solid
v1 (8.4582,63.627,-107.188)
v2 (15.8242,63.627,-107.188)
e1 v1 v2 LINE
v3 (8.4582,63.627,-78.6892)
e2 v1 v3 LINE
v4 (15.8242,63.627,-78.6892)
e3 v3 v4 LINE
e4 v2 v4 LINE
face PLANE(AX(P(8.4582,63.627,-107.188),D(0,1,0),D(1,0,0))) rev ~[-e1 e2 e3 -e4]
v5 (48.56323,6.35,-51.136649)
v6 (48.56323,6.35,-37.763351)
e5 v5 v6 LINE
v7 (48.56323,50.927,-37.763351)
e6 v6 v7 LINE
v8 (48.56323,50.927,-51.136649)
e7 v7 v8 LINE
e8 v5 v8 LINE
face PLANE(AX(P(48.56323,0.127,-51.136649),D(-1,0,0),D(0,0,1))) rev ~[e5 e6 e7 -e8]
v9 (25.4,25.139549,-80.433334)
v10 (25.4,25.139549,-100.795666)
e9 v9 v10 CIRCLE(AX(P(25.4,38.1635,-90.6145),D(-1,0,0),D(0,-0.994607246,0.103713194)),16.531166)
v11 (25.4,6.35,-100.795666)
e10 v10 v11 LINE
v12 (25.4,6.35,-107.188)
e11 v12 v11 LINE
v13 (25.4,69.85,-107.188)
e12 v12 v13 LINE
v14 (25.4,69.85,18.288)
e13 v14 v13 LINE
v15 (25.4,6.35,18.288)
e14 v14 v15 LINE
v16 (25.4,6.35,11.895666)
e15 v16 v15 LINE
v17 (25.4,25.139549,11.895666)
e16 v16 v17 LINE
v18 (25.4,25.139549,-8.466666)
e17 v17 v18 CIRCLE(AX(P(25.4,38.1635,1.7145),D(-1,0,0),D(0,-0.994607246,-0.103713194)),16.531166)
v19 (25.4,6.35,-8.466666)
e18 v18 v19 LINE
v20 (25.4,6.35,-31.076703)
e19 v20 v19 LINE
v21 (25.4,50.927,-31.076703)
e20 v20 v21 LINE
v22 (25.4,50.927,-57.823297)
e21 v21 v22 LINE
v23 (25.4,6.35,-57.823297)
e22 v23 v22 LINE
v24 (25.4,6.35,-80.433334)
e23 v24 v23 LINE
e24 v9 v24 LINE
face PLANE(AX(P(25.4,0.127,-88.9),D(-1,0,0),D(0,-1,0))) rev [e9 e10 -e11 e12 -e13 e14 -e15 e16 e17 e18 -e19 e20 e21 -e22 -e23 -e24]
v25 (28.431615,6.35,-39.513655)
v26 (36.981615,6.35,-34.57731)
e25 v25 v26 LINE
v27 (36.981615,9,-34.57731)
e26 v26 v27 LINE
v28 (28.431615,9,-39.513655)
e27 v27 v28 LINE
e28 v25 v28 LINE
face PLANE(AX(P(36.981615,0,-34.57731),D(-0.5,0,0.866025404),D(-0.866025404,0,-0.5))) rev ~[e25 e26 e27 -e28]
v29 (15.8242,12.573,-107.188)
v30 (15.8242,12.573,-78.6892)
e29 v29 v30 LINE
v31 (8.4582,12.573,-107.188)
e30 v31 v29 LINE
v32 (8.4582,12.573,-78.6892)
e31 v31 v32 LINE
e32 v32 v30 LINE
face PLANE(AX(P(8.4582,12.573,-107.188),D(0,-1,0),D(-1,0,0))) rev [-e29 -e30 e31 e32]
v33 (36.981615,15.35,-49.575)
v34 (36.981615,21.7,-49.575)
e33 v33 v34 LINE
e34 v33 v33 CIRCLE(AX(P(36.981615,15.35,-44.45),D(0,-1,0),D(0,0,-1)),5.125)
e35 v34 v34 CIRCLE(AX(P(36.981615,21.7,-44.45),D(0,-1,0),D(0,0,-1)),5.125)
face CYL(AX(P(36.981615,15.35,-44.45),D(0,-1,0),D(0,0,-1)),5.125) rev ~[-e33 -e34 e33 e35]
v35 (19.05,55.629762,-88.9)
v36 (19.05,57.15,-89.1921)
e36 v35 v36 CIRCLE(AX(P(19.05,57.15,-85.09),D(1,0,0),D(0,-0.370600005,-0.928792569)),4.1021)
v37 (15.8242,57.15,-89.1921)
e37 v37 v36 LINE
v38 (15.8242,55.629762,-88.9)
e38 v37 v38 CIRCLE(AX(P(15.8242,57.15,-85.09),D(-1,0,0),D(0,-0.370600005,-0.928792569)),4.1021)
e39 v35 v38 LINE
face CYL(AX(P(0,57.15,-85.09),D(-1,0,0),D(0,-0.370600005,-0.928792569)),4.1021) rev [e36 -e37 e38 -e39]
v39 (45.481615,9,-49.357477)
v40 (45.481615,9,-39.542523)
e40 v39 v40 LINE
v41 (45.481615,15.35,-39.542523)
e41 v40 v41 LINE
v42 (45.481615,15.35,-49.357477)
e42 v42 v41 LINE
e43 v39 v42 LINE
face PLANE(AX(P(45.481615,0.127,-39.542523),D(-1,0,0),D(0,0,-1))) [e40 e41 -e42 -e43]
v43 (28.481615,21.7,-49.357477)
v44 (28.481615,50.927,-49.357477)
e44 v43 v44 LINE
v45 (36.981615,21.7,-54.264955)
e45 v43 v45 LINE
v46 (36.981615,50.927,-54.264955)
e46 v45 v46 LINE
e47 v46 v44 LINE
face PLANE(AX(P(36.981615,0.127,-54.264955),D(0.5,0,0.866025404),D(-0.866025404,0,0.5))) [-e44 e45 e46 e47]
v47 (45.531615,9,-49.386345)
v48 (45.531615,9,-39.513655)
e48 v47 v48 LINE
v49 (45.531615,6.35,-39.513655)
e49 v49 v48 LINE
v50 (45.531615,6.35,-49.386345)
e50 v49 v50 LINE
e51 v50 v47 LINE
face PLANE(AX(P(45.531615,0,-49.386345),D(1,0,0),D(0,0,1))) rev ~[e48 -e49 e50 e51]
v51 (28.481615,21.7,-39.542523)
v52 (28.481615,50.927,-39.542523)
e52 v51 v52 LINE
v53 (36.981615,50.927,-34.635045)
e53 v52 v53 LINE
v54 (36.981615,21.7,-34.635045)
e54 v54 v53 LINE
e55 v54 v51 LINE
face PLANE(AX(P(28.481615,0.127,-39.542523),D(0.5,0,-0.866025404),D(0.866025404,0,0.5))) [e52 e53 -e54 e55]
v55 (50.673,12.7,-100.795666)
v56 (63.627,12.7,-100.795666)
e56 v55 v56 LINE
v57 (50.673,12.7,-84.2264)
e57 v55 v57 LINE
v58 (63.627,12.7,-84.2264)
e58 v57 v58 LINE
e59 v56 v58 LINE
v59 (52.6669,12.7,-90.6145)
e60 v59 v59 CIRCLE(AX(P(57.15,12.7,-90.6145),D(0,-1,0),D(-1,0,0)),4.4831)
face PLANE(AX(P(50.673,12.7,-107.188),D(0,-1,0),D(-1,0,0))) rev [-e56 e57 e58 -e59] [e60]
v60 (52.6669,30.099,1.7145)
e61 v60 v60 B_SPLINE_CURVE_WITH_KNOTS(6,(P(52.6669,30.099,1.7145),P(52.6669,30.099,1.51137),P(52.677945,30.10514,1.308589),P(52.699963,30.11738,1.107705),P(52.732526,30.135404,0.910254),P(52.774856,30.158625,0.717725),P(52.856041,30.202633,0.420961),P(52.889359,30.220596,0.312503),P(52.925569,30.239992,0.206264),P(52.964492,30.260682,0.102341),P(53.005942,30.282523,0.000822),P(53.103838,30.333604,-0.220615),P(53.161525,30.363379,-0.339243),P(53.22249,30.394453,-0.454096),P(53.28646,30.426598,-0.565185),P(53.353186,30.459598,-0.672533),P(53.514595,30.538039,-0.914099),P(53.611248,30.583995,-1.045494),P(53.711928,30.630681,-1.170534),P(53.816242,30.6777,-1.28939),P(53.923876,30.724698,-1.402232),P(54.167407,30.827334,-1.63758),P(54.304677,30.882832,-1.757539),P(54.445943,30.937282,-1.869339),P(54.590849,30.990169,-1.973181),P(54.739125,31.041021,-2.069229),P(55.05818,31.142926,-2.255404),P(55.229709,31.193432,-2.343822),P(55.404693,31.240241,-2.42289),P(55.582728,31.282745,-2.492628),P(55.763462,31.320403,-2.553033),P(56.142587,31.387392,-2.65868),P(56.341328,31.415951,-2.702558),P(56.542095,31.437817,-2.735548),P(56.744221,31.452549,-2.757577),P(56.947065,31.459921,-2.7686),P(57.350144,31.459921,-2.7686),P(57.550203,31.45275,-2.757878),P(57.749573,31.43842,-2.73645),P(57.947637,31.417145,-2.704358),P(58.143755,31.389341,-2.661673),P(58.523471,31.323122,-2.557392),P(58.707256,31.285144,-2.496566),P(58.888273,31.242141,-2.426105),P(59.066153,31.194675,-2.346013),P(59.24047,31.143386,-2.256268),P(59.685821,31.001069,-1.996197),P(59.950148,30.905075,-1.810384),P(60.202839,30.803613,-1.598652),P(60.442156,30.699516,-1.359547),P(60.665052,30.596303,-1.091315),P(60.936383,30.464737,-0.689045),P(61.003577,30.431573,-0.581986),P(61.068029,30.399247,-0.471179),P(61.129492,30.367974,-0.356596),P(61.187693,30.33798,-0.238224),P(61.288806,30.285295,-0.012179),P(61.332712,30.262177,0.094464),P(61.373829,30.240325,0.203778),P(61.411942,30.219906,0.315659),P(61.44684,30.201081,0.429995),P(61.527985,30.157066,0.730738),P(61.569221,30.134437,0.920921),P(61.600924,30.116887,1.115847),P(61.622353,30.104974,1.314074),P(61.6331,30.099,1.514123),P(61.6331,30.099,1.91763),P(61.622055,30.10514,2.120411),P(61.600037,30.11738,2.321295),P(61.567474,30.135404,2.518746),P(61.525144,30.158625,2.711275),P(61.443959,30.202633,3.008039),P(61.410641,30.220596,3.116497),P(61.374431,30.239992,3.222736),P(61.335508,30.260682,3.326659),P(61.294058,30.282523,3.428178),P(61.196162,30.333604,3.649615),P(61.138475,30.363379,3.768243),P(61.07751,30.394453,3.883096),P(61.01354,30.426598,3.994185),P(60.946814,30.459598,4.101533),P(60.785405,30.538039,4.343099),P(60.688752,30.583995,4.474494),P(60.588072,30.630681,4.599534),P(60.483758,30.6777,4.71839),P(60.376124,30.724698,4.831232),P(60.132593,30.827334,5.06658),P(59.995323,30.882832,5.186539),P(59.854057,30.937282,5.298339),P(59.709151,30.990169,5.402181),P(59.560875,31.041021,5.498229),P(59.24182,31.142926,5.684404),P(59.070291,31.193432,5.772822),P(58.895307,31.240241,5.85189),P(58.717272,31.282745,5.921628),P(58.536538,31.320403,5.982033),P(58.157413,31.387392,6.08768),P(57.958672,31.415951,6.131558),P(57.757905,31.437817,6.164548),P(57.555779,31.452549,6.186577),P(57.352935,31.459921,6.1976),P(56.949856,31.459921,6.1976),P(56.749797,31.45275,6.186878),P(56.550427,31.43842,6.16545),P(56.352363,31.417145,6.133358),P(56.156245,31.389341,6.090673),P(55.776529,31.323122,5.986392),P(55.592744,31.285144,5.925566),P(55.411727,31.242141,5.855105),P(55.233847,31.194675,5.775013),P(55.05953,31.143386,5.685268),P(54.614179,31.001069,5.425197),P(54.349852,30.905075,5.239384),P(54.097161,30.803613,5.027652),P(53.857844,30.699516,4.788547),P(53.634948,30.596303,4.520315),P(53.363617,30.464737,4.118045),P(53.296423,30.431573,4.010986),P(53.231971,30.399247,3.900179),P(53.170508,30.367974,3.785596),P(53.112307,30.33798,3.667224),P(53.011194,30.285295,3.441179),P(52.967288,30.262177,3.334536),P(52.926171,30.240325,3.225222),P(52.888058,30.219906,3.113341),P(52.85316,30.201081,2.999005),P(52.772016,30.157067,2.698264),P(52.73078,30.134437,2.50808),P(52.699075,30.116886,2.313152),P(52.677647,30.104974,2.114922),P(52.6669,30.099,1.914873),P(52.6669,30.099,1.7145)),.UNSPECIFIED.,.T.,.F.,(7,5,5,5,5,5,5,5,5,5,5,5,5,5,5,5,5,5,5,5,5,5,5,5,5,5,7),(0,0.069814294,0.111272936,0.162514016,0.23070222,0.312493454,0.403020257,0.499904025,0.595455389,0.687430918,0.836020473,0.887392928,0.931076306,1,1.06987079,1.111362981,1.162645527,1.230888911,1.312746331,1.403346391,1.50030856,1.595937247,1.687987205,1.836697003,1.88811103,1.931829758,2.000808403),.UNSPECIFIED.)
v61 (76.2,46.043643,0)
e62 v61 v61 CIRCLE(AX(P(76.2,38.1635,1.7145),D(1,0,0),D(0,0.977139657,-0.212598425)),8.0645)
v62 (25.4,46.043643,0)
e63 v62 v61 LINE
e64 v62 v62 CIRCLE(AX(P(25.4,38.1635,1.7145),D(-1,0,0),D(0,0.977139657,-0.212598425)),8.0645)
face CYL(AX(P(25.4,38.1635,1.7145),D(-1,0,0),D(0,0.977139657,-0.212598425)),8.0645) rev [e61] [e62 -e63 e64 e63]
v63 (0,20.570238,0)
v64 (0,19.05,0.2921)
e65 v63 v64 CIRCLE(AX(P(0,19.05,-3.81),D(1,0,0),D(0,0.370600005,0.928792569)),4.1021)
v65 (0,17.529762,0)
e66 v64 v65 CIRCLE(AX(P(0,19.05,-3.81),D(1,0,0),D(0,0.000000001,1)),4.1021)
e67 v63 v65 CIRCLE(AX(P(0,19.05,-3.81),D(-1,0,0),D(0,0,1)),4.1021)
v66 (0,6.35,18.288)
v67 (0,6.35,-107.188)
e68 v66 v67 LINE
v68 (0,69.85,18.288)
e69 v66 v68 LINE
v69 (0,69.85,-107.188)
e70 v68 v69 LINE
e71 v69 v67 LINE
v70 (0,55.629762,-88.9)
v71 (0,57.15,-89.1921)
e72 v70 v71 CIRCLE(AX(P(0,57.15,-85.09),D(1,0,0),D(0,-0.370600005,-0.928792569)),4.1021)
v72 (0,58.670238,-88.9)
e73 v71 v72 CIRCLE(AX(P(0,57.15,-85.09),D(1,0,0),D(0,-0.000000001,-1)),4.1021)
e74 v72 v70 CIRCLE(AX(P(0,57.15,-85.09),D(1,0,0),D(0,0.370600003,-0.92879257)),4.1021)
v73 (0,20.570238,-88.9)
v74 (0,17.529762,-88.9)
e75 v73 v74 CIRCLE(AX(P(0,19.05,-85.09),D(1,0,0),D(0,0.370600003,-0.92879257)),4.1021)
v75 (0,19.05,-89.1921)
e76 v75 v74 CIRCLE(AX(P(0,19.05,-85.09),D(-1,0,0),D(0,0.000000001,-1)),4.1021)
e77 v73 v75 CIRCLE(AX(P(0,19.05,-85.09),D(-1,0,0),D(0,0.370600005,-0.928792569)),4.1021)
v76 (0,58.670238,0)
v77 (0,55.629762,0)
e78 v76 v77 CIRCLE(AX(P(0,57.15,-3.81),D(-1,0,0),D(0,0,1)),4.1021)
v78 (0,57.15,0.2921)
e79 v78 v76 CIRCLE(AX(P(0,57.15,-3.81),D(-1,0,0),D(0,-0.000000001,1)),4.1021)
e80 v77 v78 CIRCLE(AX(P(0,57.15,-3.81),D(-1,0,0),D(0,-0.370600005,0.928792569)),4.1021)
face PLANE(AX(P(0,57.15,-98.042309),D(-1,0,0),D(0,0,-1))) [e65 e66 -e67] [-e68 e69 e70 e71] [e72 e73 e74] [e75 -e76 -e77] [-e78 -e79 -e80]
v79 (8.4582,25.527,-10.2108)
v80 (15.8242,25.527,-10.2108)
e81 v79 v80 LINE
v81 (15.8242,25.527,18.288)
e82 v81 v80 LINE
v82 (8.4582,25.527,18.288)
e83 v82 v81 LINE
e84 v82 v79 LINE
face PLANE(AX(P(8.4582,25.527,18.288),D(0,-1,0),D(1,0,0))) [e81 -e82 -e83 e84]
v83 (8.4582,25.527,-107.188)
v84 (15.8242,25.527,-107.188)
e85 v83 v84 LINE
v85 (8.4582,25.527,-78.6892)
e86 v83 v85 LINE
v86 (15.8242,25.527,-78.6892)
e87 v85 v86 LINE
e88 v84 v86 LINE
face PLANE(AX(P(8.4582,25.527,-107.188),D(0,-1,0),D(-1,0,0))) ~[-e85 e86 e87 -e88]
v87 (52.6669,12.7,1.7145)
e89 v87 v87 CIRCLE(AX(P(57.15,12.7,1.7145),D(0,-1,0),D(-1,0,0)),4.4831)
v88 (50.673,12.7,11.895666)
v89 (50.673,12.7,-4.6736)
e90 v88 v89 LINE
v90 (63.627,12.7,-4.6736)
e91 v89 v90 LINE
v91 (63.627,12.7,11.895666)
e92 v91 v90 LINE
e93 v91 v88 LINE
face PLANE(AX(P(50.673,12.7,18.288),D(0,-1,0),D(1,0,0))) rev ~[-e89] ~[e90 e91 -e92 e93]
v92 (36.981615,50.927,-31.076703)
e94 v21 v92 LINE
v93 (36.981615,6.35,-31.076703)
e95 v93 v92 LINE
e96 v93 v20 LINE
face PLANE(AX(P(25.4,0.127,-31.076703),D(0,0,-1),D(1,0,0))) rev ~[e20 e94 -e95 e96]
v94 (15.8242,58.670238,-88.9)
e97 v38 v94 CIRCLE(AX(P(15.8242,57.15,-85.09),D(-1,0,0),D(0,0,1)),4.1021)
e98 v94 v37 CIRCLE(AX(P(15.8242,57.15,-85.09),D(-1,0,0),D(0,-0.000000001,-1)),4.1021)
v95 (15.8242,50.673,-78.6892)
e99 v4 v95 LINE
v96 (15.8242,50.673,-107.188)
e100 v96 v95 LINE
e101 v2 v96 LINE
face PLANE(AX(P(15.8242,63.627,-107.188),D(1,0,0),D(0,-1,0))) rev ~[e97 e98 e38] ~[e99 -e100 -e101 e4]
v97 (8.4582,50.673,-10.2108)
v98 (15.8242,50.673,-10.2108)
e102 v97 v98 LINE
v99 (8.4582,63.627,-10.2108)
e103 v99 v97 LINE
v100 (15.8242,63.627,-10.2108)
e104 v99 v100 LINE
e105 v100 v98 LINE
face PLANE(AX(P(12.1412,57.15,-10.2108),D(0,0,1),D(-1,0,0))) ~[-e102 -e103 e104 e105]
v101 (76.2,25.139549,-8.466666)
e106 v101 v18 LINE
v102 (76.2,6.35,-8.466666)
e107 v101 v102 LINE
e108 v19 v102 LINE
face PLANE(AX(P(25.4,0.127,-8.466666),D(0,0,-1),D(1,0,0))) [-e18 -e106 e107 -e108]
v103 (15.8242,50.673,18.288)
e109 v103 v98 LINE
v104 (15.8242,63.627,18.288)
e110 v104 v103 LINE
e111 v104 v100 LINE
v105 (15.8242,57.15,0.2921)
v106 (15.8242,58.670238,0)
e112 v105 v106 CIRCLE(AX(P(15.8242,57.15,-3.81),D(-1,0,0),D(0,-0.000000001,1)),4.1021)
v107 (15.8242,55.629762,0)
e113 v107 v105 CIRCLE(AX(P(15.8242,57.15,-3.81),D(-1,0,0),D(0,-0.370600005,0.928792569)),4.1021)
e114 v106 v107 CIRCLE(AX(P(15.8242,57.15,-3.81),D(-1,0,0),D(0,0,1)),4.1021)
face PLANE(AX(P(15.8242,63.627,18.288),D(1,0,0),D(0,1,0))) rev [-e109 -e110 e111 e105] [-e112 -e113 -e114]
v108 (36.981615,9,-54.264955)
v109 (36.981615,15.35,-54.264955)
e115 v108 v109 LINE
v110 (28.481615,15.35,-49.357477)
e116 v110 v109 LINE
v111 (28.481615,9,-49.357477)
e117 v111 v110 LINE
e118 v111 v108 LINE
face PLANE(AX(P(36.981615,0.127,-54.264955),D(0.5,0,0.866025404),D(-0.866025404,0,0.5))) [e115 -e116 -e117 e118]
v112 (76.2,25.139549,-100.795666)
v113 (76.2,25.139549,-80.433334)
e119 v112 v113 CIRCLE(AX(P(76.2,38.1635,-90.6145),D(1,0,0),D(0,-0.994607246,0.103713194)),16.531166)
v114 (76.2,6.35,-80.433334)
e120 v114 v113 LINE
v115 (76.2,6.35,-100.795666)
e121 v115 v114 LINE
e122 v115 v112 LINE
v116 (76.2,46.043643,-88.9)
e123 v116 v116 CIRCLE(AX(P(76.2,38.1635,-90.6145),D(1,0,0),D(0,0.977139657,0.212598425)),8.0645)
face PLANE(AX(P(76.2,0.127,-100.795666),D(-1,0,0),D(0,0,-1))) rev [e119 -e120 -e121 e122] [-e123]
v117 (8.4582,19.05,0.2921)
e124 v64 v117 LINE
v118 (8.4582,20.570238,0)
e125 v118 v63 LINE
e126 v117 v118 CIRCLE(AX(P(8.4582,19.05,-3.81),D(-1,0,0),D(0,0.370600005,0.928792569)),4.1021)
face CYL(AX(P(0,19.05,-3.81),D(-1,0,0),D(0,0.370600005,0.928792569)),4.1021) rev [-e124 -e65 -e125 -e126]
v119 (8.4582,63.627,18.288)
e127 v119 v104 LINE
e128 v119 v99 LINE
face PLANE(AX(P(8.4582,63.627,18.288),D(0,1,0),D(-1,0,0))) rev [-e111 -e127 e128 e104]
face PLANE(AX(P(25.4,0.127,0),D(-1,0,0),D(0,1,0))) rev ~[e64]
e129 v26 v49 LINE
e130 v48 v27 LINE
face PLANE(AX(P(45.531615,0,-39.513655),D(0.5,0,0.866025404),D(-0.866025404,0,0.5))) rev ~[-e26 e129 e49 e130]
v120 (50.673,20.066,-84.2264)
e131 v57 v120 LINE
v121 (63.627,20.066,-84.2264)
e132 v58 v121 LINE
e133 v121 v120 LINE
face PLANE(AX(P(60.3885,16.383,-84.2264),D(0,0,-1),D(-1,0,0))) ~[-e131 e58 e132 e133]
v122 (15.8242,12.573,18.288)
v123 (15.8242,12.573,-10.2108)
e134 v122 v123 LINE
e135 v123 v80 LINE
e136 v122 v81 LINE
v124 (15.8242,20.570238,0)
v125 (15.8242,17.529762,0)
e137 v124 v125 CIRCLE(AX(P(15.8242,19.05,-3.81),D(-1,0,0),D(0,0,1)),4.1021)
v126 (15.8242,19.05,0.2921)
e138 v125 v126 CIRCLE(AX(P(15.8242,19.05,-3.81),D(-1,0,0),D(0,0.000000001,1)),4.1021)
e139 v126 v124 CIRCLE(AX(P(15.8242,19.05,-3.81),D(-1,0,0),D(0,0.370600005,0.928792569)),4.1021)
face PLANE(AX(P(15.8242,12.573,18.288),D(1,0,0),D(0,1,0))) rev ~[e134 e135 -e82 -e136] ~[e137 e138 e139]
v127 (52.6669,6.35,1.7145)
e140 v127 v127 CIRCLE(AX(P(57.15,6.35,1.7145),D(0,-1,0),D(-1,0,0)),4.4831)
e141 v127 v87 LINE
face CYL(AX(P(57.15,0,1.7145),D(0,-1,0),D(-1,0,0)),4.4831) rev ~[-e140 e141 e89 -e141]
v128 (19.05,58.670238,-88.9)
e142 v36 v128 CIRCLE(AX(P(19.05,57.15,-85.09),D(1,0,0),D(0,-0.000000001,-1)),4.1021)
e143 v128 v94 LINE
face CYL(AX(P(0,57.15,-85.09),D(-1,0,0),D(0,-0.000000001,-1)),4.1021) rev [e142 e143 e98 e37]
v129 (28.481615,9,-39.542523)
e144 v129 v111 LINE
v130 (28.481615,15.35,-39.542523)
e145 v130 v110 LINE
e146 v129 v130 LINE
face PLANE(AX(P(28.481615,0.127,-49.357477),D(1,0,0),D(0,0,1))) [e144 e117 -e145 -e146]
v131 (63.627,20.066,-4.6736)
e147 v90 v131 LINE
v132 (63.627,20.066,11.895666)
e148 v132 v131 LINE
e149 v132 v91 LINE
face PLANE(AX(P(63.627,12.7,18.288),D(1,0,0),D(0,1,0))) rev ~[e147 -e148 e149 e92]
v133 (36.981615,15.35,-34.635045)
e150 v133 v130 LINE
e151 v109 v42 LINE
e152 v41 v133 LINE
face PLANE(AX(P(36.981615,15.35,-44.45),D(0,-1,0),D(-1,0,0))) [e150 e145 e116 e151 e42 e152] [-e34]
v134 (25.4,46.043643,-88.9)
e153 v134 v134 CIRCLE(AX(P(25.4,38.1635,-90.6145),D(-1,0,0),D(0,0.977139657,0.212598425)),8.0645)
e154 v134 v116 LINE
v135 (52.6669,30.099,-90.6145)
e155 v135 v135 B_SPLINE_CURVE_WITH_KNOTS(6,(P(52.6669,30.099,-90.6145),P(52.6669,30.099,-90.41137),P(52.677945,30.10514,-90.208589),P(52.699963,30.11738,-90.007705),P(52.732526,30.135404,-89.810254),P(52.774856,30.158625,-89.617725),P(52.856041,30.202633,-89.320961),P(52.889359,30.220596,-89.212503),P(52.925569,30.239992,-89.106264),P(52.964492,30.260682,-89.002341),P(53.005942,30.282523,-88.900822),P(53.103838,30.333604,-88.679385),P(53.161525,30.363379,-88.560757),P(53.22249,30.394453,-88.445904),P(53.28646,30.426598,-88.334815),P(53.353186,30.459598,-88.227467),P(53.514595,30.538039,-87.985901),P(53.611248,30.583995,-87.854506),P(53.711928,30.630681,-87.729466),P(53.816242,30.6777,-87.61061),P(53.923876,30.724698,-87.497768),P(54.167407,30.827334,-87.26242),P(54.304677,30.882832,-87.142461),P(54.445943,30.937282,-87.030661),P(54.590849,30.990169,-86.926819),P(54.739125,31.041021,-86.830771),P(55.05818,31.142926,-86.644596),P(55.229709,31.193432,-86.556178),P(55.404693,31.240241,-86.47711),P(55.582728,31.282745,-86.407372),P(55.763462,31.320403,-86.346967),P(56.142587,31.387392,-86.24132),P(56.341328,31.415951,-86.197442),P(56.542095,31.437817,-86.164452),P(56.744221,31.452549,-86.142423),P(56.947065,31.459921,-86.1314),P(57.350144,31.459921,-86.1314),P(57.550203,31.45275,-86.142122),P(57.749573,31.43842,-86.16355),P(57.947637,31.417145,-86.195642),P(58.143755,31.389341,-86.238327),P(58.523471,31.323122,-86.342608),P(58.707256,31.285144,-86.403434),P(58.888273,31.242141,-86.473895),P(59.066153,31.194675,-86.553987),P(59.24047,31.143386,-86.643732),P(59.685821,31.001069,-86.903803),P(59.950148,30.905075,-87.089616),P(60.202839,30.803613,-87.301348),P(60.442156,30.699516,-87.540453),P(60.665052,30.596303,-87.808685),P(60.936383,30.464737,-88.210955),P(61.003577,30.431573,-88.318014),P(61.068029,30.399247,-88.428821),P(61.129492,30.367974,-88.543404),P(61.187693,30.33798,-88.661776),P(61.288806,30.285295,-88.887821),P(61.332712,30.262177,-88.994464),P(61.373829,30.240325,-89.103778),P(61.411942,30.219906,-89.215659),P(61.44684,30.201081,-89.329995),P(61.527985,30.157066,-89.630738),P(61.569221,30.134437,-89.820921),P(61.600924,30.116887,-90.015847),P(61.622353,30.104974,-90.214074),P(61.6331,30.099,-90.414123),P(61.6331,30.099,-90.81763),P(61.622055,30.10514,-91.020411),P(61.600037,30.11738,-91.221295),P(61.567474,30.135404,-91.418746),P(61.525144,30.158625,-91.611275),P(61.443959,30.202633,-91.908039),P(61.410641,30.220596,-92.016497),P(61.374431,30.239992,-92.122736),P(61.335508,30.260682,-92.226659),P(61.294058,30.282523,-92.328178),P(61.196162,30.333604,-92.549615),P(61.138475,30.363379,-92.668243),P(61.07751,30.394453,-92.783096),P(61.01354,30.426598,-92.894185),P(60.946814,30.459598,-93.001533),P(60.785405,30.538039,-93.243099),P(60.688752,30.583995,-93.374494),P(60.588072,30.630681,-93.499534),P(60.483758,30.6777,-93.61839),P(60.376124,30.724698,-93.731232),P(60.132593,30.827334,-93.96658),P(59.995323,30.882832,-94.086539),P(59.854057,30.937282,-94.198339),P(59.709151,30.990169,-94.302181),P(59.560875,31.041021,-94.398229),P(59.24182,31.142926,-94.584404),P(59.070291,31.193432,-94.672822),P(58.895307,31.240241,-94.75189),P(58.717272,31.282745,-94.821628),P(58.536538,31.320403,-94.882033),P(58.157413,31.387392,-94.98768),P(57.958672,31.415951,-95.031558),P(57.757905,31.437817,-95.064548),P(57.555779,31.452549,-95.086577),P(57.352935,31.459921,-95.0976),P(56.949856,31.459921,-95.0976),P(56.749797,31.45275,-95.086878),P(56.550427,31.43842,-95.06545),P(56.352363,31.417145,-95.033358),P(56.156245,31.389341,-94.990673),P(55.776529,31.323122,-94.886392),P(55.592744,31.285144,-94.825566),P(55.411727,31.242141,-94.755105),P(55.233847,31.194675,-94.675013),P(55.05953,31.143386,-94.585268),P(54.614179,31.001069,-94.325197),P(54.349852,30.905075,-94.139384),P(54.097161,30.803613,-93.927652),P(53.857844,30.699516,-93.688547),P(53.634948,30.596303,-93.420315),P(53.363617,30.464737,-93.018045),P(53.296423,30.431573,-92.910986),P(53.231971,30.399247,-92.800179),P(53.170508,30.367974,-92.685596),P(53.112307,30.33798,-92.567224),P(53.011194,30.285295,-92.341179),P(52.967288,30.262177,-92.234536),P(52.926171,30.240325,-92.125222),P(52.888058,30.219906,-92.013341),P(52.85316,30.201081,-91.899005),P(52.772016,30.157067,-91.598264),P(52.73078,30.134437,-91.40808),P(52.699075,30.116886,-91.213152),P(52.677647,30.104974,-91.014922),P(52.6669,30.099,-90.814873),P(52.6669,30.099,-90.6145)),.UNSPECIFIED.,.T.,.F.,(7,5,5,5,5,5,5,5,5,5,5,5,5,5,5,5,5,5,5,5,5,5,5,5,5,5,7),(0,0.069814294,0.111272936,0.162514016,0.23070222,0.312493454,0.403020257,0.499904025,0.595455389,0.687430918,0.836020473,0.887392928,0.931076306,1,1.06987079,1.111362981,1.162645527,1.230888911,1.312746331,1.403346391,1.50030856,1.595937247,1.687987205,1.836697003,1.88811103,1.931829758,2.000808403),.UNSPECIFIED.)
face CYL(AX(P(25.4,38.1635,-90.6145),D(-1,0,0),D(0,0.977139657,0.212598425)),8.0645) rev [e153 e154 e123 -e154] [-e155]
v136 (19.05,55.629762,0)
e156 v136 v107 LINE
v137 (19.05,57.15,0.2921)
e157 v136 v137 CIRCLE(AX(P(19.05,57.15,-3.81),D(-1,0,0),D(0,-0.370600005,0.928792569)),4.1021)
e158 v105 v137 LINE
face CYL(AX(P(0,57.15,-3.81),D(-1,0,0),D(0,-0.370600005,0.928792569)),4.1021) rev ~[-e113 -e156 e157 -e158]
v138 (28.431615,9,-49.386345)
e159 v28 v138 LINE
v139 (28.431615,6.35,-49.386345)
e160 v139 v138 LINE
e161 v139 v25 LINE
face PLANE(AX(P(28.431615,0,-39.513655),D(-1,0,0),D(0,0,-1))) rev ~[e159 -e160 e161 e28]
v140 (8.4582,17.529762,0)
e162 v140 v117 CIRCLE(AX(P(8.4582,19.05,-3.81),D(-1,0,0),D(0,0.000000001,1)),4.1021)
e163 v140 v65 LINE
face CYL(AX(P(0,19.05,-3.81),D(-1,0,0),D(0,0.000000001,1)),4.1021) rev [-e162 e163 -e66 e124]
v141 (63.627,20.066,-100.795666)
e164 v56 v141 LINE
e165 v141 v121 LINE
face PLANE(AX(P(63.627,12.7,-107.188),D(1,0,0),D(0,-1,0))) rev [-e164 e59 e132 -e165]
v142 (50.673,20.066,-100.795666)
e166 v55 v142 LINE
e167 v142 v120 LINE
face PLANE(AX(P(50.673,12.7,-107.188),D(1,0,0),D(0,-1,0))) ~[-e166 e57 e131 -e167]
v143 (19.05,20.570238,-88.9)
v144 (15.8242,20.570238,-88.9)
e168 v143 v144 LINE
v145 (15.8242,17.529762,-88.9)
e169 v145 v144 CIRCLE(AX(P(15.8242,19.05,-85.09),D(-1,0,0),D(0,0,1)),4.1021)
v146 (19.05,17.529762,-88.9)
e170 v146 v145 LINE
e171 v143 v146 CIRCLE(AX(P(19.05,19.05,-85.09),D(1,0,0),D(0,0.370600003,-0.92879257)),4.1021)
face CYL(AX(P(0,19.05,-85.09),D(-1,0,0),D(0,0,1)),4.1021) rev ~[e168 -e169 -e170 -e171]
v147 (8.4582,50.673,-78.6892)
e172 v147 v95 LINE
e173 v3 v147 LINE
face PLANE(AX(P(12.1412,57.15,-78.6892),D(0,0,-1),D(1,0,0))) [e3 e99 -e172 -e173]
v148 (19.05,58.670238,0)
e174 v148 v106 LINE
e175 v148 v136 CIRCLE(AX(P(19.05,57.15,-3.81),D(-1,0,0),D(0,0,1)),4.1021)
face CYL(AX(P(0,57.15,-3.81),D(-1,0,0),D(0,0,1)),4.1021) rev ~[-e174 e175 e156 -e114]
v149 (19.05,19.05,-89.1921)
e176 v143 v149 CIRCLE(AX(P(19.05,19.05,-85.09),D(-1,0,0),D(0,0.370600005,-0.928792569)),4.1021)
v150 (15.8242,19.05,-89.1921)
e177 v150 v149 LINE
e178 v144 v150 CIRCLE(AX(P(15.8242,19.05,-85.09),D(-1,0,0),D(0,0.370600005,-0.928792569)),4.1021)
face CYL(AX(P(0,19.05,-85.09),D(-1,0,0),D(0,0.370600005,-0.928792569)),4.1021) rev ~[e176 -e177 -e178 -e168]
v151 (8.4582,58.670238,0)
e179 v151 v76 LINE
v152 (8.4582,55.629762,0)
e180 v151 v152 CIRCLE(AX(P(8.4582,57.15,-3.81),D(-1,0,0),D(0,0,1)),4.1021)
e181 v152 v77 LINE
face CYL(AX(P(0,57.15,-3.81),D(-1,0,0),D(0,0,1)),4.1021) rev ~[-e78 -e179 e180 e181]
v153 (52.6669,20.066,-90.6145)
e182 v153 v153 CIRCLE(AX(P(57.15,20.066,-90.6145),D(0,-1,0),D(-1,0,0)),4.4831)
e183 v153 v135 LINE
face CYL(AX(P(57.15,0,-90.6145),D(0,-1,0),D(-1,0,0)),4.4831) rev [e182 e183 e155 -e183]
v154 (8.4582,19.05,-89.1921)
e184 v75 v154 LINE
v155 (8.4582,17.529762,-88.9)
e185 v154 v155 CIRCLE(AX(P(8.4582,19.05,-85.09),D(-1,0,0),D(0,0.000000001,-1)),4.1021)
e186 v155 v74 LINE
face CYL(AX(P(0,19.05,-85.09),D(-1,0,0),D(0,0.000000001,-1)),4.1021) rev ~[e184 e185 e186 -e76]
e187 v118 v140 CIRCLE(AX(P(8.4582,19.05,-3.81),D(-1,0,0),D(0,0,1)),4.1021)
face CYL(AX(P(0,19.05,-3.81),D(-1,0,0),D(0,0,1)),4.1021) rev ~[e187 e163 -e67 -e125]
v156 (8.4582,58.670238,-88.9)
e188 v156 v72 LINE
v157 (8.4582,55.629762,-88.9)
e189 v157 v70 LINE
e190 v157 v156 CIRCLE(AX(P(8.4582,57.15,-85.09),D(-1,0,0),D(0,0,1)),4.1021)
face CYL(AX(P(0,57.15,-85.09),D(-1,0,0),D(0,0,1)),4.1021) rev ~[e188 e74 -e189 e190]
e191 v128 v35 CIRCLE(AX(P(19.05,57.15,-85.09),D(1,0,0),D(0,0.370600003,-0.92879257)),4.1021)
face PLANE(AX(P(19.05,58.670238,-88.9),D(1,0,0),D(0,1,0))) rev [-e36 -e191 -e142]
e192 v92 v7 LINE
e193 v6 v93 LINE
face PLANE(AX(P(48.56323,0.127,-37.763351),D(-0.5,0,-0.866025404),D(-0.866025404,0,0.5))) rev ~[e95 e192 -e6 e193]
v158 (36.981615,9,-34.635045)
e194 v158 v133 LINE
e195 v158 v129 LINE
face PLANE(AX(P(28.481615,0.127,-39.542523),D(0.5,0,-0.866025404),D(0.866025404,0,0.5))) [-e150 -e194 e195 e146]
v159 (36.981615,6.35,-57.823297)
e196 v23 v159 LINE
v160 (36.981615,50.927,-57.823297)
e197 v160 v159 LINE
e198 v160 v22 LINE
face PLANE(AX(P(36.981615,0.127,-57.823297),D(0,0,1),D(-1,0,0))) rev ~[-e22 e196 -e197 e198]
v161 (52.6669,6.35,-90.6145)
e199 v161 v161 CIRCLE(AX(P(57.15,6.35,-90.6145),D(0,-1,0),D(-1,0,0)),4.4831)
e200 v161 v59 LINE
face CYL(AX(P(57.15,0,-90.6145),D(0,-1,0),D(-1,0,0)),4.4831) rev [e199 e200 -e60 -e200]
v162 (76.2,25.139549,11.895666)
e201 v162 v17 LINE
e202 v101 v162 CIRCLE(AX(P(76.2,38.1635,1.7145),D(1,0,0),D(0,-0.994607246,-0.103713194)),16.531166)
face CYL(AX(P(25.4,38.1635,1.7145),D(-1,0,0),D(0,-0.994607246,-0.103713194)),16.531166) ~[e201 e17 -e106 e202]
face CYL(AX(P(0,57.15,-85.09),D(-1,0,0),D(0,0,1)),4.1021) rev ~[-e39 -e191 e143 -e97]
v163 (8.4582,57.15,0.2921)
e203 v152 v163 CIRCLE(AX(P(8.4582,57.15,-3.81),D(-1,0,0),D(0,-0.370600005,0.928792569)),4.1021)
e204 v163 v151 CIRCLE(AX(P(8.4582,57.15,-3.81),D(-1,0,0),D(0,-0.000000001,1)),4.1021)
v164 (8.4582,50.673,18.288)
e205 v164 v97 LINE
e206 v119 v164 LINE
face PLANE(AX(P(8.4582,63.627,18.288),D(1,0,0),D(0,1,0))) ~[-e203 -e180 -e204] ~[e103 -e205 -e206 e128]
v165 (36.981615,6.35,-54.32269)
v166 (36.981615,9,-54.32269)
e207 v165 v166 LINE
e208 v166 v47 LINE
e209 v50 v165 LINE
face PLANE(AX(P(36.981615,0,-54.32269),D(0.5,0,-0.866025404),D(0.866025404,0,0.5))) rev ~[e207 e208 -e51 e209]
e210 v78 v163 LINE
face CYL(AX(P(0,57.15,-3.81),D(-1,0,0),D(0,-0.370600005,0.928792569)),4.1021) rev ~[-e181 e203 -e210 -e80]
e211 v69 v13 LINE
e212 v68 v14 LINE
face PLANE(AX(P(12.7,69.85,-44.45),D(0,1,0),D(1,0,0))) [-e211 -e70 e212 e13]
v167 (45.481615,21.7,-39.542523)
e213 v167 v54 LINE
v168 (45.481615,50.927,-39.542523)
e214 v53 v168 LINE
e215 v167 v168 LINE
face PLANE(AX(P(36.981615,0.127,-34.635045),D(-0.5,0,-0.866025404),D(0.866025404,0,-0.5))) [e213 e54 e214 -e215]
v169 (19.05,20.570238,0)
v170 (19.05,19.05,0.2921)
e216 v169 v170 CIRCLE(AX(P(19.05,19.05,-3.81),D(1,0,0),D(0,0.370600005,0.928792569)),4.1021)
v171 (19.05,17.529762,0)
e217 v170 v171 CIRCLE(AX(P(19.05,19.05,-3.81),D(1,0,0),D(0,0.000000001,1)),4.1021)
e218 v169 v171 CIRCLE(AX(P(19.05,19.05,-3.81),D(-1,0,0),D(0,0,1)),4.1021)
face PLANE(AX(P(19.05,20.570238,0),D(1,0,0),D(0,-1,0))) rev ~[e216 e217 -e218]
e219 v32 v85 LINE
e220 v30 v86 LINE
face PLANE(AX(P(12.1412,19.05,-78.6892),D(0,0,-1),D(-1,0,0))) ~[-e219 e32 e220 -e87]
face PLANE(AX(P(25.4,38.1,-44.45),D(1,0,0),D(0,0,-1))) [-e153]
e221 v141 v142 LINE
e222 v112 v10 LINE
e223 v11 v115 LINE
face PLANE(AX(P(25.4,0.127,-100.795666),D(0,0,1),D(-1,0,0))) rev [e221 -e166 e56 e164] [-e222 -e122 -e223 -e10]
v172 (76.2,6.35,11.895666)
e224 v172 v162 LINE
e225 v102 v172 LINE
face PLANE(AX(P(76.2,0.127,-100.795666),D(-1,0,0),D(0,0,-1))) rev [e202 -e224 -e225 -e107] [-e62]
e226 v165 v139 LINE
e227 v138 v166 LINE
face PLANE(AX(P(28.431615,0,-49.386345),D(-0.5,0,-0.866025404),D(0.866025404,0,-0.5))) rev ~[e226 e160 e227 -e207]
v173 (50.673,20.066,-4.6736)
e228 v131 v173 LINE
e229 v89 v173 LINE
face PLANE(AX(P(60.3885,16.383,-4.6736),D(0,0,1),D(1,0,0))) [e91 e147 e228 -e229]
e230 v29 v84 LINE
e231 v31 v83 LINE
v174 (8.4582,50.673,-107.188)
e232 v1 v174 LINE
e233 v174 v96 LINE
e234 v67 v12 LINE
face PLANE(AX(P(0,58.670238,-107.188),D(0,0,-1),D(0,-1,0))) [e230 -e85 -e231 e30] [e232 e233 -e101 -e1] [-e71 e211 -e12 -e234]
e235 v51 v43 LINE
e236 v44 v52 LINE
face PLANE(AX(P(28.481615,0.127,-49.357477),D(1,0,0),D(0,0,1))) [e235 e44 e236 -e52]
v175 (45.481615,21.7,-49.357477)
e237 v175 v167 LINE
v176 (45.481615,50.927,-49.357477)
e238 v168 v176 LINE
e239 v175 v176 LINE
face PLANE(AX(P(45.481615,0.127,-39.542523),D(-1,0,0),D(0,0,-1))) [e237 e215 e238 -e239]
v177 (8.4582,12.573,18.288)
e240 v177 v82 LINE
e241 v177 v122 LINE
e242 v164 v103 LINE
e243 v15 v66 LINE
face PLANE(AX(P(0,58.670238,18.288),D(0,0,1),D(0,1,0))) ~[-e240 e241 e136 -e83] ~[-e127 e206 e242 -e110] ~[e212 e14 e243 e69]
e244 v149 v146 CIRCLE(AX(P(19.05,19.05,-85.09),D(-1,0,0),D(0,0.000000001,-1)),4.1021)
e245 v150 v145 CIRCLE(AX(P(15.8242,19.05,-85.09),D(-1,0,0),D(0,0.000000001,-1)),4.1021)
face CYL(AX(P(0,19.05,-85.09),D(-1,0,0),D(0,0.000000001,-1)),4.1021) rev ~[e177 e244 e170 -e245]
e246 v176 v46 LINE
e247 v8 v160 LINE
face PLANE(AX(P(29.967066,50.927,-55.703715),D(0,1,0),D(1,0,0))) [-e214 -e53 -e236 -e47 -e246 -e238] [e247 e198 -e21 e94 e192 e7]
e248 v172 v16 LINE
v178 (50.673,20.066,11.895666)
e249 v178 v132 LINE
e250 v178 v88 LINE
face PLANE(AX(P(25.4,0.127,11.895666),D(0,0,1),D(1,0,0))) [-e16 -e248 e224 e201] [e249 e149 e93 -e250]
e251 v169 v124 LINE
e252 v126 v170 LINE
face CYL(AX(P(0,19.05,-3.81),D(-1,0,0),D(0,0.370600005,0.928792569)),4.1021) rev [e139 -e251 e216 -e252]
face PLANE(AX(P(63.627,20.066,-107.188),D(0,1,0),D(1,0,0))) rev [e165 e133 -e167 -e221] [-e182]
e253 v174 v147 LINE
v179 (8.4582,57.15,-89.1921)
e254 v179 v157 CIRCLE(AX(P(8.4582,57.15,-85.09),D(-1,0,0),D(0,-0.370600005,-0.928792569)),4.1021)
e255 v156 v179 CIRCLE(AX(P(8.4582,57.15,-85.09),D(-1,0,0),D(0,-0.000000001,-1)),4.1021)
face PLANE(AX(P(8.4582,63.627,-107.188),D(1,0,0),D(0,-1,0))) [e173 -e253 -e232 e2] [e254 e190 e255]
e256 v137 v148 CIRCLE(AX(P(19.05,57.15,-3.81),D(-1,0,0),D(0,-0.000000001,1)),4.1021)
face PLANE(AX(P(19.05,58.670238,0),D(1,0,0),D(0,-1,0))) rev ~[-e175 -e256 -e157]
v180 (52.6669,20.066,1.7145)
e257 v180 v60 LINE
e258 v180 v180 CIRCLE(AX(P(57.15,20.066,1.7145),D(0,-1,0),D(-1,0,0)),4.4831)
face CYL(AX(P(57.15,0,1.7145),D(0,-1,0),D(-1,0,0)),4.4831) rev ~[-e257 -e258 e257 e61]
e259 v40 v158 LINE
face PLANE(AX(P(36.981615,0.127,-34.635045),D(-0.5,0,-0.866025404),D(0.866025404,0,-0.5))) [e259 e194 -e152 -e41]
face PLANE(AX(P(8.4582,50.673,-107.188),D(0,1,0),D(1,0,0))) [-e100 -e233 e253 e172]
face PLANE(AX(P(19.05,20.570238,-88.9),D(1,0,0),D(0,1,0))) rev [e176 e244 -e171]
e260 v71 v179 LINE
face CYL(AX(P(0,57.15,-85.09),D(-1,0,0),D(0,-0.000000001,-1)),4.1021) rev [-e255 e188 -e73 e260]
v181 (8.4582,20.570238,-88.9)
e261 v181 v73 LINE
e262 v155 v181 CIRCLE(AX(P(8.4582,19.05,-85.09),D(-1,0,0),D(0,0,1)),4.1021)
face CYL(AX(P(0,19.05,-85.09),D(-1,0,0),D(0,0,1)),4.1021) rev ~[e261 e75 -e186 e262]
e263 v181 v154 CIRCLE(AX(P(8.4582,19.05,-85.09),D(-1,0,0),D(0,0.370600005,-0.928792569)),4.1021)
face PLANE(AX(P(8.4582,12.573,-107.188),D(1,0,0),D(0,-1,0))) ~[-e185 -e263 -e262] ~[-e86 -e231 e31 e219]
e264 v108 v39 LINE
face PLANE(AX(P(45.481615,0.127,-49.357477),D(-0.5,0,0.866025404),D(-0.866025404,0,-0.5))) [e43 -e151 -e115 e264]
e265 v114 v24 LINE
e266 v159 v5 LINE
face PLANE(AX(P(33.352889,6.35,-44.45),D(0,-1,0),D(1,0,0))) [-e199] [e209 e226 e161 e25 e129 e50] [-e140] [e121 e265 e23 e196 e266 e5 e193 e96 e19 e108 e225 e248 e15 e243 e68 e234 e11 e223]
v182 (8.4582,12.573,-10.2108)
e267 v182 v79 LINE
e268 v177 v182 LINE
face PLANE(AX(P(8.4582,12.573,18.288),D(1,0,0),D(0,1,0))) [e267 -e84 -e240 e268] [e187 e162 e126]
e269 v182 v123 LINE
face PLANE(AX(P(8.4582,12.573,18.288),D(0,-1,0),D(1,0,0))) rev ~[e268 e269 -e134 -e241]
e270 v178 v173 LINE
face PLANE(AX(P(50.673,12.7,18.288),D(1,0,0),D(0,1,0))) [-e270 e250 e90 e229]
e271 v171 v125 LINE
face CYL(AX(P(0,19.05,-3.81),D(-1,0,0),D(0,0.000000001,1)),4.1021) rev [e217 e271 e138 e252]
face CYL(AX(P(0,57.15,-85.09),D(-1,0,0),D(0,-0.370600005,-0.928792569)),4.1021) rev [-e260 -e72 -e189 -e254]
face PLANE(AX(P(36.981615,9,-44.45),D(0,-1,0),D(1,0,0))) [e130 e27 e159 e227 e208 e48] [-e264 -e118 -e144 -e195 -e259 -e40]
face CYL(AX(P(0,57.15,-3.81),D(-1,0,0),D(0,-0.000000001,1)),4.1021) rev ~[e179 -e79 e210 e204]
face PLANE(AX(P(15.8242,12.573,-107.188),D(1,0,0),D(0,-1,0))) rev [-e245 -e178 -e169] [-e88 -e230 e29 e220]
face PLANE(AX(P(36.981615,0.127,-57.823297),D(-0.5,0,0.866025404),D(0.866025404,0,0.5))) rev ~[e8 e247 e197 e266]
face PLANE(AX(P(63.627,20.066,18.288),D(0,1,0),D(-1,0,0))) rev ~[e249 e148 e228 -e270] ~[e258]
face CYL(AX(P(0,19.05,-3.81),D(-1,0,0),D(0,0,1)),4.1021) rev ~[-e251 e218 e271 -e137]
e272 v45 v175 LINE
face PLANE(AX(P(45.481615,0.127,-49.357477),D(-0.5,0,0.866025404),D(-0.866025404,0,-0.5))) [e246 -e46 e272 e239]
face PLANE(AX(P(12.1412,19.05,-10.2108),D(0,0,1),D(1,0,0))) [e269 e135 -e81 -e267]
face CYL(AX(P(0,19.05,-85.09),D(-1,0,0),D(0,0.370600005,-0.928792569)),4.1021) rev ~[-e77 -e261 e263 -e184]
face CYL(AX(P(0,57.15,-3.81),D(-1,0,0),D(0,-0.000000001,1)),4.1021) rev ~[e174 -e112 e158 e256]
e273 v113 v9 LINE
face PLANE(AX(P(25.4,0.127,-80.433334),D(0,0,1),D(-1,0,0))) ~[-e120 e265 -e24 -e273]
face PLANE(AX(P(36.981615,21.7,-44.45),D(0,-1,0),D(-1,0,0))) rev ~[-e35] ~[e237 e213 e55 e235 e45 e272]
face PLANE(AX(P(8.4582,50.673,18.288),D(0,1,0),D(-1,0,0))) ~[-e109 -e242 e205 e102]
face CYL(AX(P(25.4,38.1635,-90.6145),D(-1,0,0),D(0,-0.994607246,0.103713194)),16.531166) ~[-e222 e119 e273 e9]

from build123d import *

# Parameters (mm, degrees)
SKETCH1_W               = 88.9
SKETCH1_H               = 76.2
BOSS_EXTRUDE1_DEPTH     = 25.4
SKETCH2_R               = 4.1021
CUT_EXTRUDE1_DEPTH      = 19.05
SKETCH5_W               = 88.9
SKETCH5_H               = 0.127
BOSS_EXTRUDE2_DEPTH     = 50.8
SKETCH6_R               = 16.53116582
SKETCH6_R_2             = 8.0645
BOSS_EXTRUDE3_DEPTH     = 50.8
BOSS_EXTRUDE4_DEPTH     = 18.288
SKETCH8_W               = 50.8
SKETCH8_H               = 20.36233164
BOSS_EXTRUDE5_DEPTH     = 27.94
CUT_EXTRUDE6_REACH      = 153.994
CUT_EXTRUDE6_END_RADIUS = 8.0645
SKETCH13_W              = 6.477
SKETCH13_H              = 7.366
CUT_EXTRUDE7_DEPTH      = 22.9616
BOSS_EXTRUDE6_DEPTH     = 50.8
CUT_EXTRUDE8_REACH      = 153.93
SKETCH14_3_R            = 5.25
CUT_EXTRUDE9_DEPTH      = 9
CUT_EXTRUDE10_REACH     = 153.93
SKETCH16_W              = 50.8
SKETCH16_H              = 6.39233418
BOSS_EXTRUDE7_DEPTH     = 50.8
BOSS_EXTRUDE9_START     = 19.05
BOSS_EXTRUDE9_DEPTH     = 19.05
SKETCH22_W              = 7.366
SKETCH22_H              = 12.954
CUT_EXTRUDE15_DEPTH     = 28.4988
MIRROR5_START           = 19.05
MIRROR5_COPY_1_DEPTH    = 19.05
MIRROR5_COPY_2_SKETCH_W = 7.366
MIRROR5_COPY_2_SKETCH_H = 12.954
MIRROR5_COPY_2_DEPTH    = 28.4988
SKETCH25_R              = 5.125
BOSS_EXTRUDE10_DEPTH    = 6.35
SKETCH26_W              = 25.4
SKETCH26_H              = 125.476
CUT_EXTRUDE16_DEPTH     = 6.35
CUT_EXTRUDE17_DEPTH     = 6.35


with BuildPart() as part:
    # Sketch1 → Boss-Extrude1 (new body)
    with BuildSketch(Plane(origin=(0, 0, 0), x_dir=(0, 0, -1), z_dir=(1, 0, 0))):
        with Locations((44.45, 38.1)):
            Rectangle(SKETCH1_W, SKETCH1_H)
    extrude(amount=BOSS_EXTRUDE1_DEPTH)

    # Sketch2 → Cut-Extrude1 (cut)
    with BuildSketch(Plane.ZY):
        with Locations((-85.09, 19.05)):
            Circle(SKETCH2_R)
        with Locations((-3.81, 57.15)):
            Circle(SKETCH2_R)
        with Locations((-3.81, 19.05)):
            Circle(SKETCH2_R)
        with Locations((-85.09, 57.15)):
            Circle(SKETCH2_R)
    extrude(amount=-CUT_EXTRUDE1_DEPTH, mode=Mode.SUBTRACT)

    # Sketch5 → Boss-Extrude2 (add)
    with BuildSketch(Plane(origin=(25.4, 0, 0), x_dir=(0, 0, -1), z_dir=(1, 0, 0))):
        with Locations((44.45, 0.0635)):
            Rectangle(SKETCH5_W, SKETCH5_H)
    extrude(amount=BOSS_EXTRUDE2_DEPTH)

    # Sketch6 → Boss-Extrude3 (add)
    # profile 1 of 2: a face of its own
    with BuildSketch(Plane(origin=(25.4, 0, 0), x_dir=(0, 0, -1), z_dir=(1, 0, 0))):
        with Locations(Location((-1.7145, 38.1635, 0), (0, 0, 275.953033203))):
            Circle(SKETCH6_R)
        with Locations(Location((-1.7145, 38.1635, 0), (0, 0, 77.725329785))):
            Circle(SKETCH6_R_2, mode=Mode.SUBTRACT)
    # profile 2 of 2: a face of its own
    with BuildSketch(Plane(origin=(25.4, 0, 0), x_dir=(0, 0, -1), z_dir=(1, 0, 0))):
        with Locations(Location((90.6145, 38.1635, 0), (0, 0, 264.046966797))):
            Circle(SKETCH6_R)
        with Locations(Location((90.6145, 38.1635, 0), (0, 0, 102.274670215))):
            Circle(SKETCH6_R_2, mode=Mode.SUBTRACT)
    extrude(amount=BOSS_EXTRUDE3_DEPTH)

    # Sketch7 → Boss-Extrude4 (add)
    with BuildSketch(Plane.XY):
        Polygon((76.2, 0.127), (25.4, 0.127), (25.4, 76.2), (0, 76.2), (0, 58.670238274), (19.05, 58.670238274), (19.05, 55.629761726), (0, 55.629761726), (0, 20.570238274), (19.05, 20.570238274), (19.05, 17.529761726), (0, 17.529761726), (0, 0), (76.2, 0), align=None)
    boss_extrude4 = extrude(amount=BOSS_EXTRUDE4_DEPTH)

    # Mirror2: Boss-Extrude4 across plane
    add(boss_extrude4.mirror(Plane.XY.offset(-44.45)))

    # Sketch8 → Boss-Extrude5 (add)
    with BuildSketch(Plane(origin=(0, 0.127, 0), x_dir=(1, 0, 0), z_dir=(0, 1, 0))):
        with Locations((50.8, -1.7145)):
            Rectangle(SKETCH8_W, SKETCH8_H)
    boss_extrude5 = extrude(amount=BOSS_EXTRUDE5_DEPTH)

    # Cut-Extrude6: up to this cylinder (the profile starts outside it)
    cut_extrude6_end = Plane(origin=(57.15, 38.1635, 1.7145), z_dir=(-1, 0, 0)) * Cylinder(CUT_EXTRUDE6_END_RADIUS, 325.117, mode=Mode.PRIVATE)
    # Sketch12 → Cut-Extrude6 (cut, up to the surface)
    with BuildSketch(Plane.XZ, mode=Mode.PRIVATE) as cut_extrude6_sk1:
        with BuildLine():
            ThreePointArc((52.6669, 1.7145), (57.15, -2.7686), (61.6331, 1.7145))
            Line((61.6331, 1.7145), (52.6669, 1.7145))
        make_face()
    cut_extrude6_tool1 = extrude(cut_extrude6_sk1.sketch, amount=-CUT_EXTRUDE6_REACH, mode=Mode.PRIVATE) - cut_extrude6_end
    # Sketch12 → Cut-Extrude6 (cut, up to the surface)
    with BuildSketch(Plane.XZ, mode=Mode.PRIVATE) as cut_extrude6_sk2:
        with BuildLine():
            Line((52.6669, 1.7145), (61.6331, 1.7145))
            ThreePointArc((61.6331, 1.7145), (57.15, 6.1976), (52.6669, 1.7145))
        make_face()
    cut_extrude6_tool2 = extrude(cut_extrude6_sk2.sketch, amount=-CUT_EXTRUDE6_REACH, mode=Mode.PRIVATE) - cut_extrude6_end
    # Sketch12 → Cut-Extrude6 (cut, up to the surface)
    with BuildSketch(Plane.XZ, mode=Mode.PRIVATE) as cut_extrude6_sk3:
        with BuildLine():
            ThreePointArc((52.6669, 1.7145), (57.15, -2.7686), (61.6331, 1.7145))
            Line((61.6331, 1.7145), (52.6669, 1.7145))
        make_face()
    cut_extrude6_tool3 = extrude(cut_extrude6_sk3.sketch, amount=-CUT_EXTRUDE6_REACH, mode=Mode.PRIVATE) - cut_extrude6_end
    # Sketch12 → Cut-Extrude6 (cut, up to the surface)
    with BuildSketch(Plane.XZ, mode=Mode.PRIVATE) as cut_extrude6_sk4:
        with BuildLine():
            Line((52.6669, 1.7145), (61.6331, 1.7145))
            ThreePointArc((61.6331, 1.7145), (57.15, 6.1976), (52.6669, 1.7145))
        make_face()
    cut_extrude6_tool4 = extrude(cut_extrude6_sk4.sketch, amount=-CUT_EXTRUDE6_REACH, mode=Mode.PRIVATE) - cut_extrude6_end
    cut_extrude6 = cut_extrude6_tool1.solids().sort_by_distance((57.15, 0, -0.188187))[0] + cut_extrude6_tool2.solids().sort_by_distance((57.15, 0, 3.617187))[0] + cut_extrude6_tool3.solids().sort_by_distance((57.15, 0, -0.188187))[0] + cut_extrude6_tool4.solids().sort_by_distance((57.15, 0, 3.617187))[0]
    add(cut_extrude6, mode=Mode.SUBTRACT)

    # Sketch13 → Cut-Extrude7 (cut)
    with BuildSketch(Plane.XY.offset(18.288)):
        with Locations((60.3885, 16.383)):
            Rectangle(SKETCH13_W, SKETCH13_H)
        with Locations((53.9115, 16.383)):
            Rectangle(SKETCH13_W, SKETCH13_H)
    cut_extrude7 = extrude(amount=-CUT_EXTRUDE7_DEPTH, mode=Mode.SUBTRACT)

    # Mirror3: Boss-Extrude5, Cut-Extrude6, Cut-Extrude7 across plane
    add(boss_extrude5.mirror(Plane.XY.offset(-44.45)))
    add(cut_extrude6.mirror(Plane.XY.offset(-44.45)), mode=Mode.SUBTRACT)
    add(cut_extrude7.mirror(Plane.XY.offset(-44.45)), mode=Mode.SUBTRACT)

    # Sketch14 → Boss-Extrude6 (add)
    with BuildSketch(Plane(origin=(0, 0.127, 0), x_dir=(1, 0, 0), z_dir=(0, 1, 0))):
        Polygon((48.563230368, 37.763351356), (48.563230368, 51.136648644), (36.981615184, 57.823297288), (25.4, 51.136648644), (25.4, 37.763351356), (36.981615184, 31.076702712), align=None)
        Polygon((28.481615184, 49.357477288), (28.481615184, 39.542522712), (36.981615184, 34.635045424), (45.481615184, 39.542522712), (45.481615184, 49.357477288), (36.981615184, 54.264954576), align=None, mode=Mode.SUBTRACT)
    extrude(amount=BOSS_EXTRUDE6_DEPTH)

    # Sketch14<3> → Cut-Extrude8 (cut, up to next)
    with BuildSketch(Plane(origin=(0, 0.127, 0), x_dir=(1, 0, 0), z_dir=(0, 1, 0)), mode=Mode.PRIVATE) as cut_extrude8_sk1:
        with Locations(Location((36.981615184, 44.45, 0), (0, 0, 270))):
            Circle(SKETCH14_3_R)
    cut_extrude8_tool1 = extrude(cut_extrude8_sk1.sketch, amount=-CUT_EXTRUDE8_REACH, mode=Mode.PRIVATE) & part.part
    add(cut_extrude8_tool1.solids().sort_by_distance((36.981615, 0.127, -44.45))[0], mode=Mode.SUBTRACT)

    # Sketch15 → Cut-Extrude9 (cut)
    with BuildSketch(Plane.XZ):
        Polygon((45.531615184, -39.513655198), (36.981615184, -34.577310397), (28.431615184, -39.513655198), (28.431615184, -49.386344802), (36.981615184, -54.322689603), (45.531615184, -49.386344802), align=None)
    extrude(amount=-CUT_EXTRUDE9_DEPTH, mode=Mode.SUBTRACT)

    # Sketch16 → Cut-Extrude10 (cut, up to next)
    with BuildSketch(Plane(origin=(0, 0.127, 0), x_dir=(1, 0, 0), z_dir=(0, 1, 0)), mode=Mode.PRIVATE) as cut_extrude10_sk1:
        Polygon((48.563230368, 37.763351356), (36.981615184, 31.076702712), (25.4, 31.076702712), (25.4, 8.46666582), (76.2, 8.46666582), (76.2, 80.43333418), (25.4, 80.43333418), (25.4, 57.823297288), (36.981615184, 57.823297288), (48.563230368, 51.136648644), align=None)
    cut_extrude10_tool1 = extrude(cut_extrude10_sk1.sketch, amount=-CUT_EXTRUDE10_REACH, mode=Mode.PRIVATE) & part.part
    # Sketch16 → Cut-Extrude10 (cut, up to next)
    with BuildSketch(Plane(origin=(0, 0.127, 0), x_dir=(1, 0, 0), z_dir=(0, 1, 0)), mode=Mode.PRIVATE) as cut_extrude10_sk2:
        with Locations((50.8, -15.09183291)):
            Rectangle(SKETCH16_W, SKETCH16_H)
    cut_extrude10_tool2 = extrude(cut_extrude10_sk2.sketch, amount=-CUT_EXTRUDE10_REACH, mode=Mode.PRIVATE) & part.part
    # Sketch16 → Cut-Extrude10 (cut, up to next)
    with BuildSketch(Plane(origin=(0, 0.127, 0), x_dir=(1, 0, 0), z_dir=(0, 1, 0)), mode=Mode.PRIVATE) as cut_extrude10_sk3:
        with Locations((50.8, 103.99183291)):
            Rectangle(SKETCH16_W, SKETCH16_H)
    cut_extrude10_tool3 = extrude(cut_extrude10_sk3.sketch, amount=-CUT_EXTRUDE10_REACH, mode=Mode.PRIVATE) & part.part
    add(cut_extrude10_tool1.solids().sort_by_distance((53.397723, 0.127, -44.45))[0], mode=Mode.SUBTRACT)
    add(cut_extrude10_tool2.solids().sort_by_distance((50.8, 0.127, 15.091833))[0], mode=Mode.SUBTRACT)
    add(cut_extrude10_tool3.solids().sort_by_distance((50.8, 0.127, -103.991833))[0], mode=Mode.SUBTRACT)

    # Sketch18 → Boss-Extrude7 (add)
    with BuildSketch(Plane(origin=(0, 0.127, 0), x_dir=(1, 0, 0), z_dir=(0, 1, 0))):
        Polygon((36.981615184, 57.823297288), (25.4, 57.823297288), (25.4, 51.136648644), align=None)
        Polygon((25.4, 37.763351356), (25.4, 31.076702712), (36.981615184, 31.076702712), align=None)
    extrude(amount=BOSS_EXTRUDE7_DEPTH)

    # Sketch20 → Boss-Extrude9 (add)
    with BuildSketch(Plane.ZY.offset(-19.05).offset(BOSS_EXTRUDE9_START)):
        with BuildLine():
            ThreePointArc((0.2921, 19.05), (0.218413175, 18.275976935), (0, 17.529761726))
            Line((0, 17.529761726), (18.288, 17.529761726))
            Line((18.288, 17.529761726), (18.288, 20.570238274))
            Line((18.288, 20.570238274), (0, 20.570238274))
            ThreePointArc((0, 20.570238274), (0.218413175, 19.824023065), (0.2921, 19.05))
        make_face()
    boss_extrude9 = extrude(amount=-BOSS_EXTRUDE9_DEPTH)

    # Sketch22 → Cut-Extrude15 (cut)
    with BuildSketch(Plane.XY.offset(18.288)):
        with Locations((12.1412, 19.05)):
            Rectangle(SKETCH22_W, SKETCH22_H)
    cut_extrude15 = extrude(amount=-CUT_EXTRUDE15_DEPTH, mode=Mode.SUBTRACT)

    # Mirror4: Boss-Extrude9, Cut-Extrude15 across plane
    add(boss_extrude9.mirror(Plane.XY.offset(-44.45)))
    add(cut_extrude15.mirror(Plane.XY.offset(-44.45)), mode=Mode.SUBTRACT)

    # Mirror5: Boss-Extrude9, Cut-Extrude15 across plane
    add(boss_extrude9.mirror(Plane.ZX.offset(38.1)))
    add(cut_extrude15.mirror(Plane.ZX.offset(38.1)), mode=Mode.SUBTRACT)

    # Mirror5 copy 1 sketch → Mirror5 copy 1 (add)
    with BuildSketch(Plane(origin=(19.05, 76.2, -88.9), x_dir=(0, 0, -1), z_dir=(-1, 0, 0)).offset(MIRROR5_START)):
        with BuildLine():
            ThreePointArc((0.2921, 19.05), (0.218413175, 18.275976935), (0, 17.529761726))
            Line((0, 17.529761726), (18.288, 17.529761726))
            Line((18.288, 17.529761726), (18.288, 20.570238274))
            Line((18.288, 20.570238274), (0, 20.570238274))
            ThreePointArc((0, 20.570238274), (0.218413175, 19.824023065), (0.2921, 19.05))
        make_face()
    extrude(amount=-MIRROR5_COPY_1_DEPTH)

    # Mirror5 copy 2 sketch → Mirror5 copy 2 (cut)
    with BuildSketch(Plane(origin=(0, 76.2, -107.188), x_dir=(1, 0, 0), z_dir=(0, 0, -1))):
        with Locations((12.1412, 19.05)):
            Rectangle(MIRROR5_COPY_2_SKETCH_W, MIRROR5_COPY_2_SKETCH_H)
    extrude(amount=-MIRROR5_COPY_2_DEPTH, mode=Mode.SUBTRACT)

    # Sketch25 → Boss-Extrude10 (add)
    with BuildSketch(Plane(origin=(0, 15.350000034, 0), x_dir=(-1, 0, 0), z_dir=(0, -1, 0))):
        Polygon((-36.981615184, 34.577310397), (-28.431615184, 39.513655198), (-28.431615184, 49.386344802), (-36.981615184, 54.322689603), (-45.531615184, 49.386344802), (-45.531615184, 39.513655198), align=None)
        with Locations(Location((-36.981615184, 44.45, 0), (0, 0, 90))):
            Circle(SKETCH25_R, mode=Mode.SUBTRACT)
    extrude(amount=-BOSS_EXTRUDE10_DEPTH)

    # Sketch26 → Cut-Extrude16 (cut)
    with BuildSketch(Plane(origin=(0, 76.2, 0), x_dir=(1, 0, 0), z_dir=(0, 1, 0))):
        with Locations((12.7, 44.45)):
            Rectangle(SKETCH26_W, SKETCH26_H)
    extrude(amount=-CUT_EXTRUDE16_DEPTH, mode=Mode.SUBTRACT)

    # Sketch27 → Cut-Extrude17 (cut)
    with BuildSketch(Plane.XZ):
        Polygon((25.4, -107.188), (25.4, -100.79566582), (76.2, -100.79566582), (76.2, -80.43333418), (25.4, -80.43333418), (25.4, -57.823297288), (36.981615184, -57.823297288), (48.563230368, -51.136648644), (48.563230368, -37.763351356), (36.981615184, -31.076702712), (25.4, -31.076702712), (25.4, -8.46666582), (76.2, -8.46666582), (76.2, 11.89566582), (25.4, 11.89566582), (25.4, 18.288), (0, 18.288), (0, -107.188), align=None)
    extrude(amount=-CUT_EXTRUDE17_DEPTH, mode=Mode.SUBTRACT)


solid = part.part
